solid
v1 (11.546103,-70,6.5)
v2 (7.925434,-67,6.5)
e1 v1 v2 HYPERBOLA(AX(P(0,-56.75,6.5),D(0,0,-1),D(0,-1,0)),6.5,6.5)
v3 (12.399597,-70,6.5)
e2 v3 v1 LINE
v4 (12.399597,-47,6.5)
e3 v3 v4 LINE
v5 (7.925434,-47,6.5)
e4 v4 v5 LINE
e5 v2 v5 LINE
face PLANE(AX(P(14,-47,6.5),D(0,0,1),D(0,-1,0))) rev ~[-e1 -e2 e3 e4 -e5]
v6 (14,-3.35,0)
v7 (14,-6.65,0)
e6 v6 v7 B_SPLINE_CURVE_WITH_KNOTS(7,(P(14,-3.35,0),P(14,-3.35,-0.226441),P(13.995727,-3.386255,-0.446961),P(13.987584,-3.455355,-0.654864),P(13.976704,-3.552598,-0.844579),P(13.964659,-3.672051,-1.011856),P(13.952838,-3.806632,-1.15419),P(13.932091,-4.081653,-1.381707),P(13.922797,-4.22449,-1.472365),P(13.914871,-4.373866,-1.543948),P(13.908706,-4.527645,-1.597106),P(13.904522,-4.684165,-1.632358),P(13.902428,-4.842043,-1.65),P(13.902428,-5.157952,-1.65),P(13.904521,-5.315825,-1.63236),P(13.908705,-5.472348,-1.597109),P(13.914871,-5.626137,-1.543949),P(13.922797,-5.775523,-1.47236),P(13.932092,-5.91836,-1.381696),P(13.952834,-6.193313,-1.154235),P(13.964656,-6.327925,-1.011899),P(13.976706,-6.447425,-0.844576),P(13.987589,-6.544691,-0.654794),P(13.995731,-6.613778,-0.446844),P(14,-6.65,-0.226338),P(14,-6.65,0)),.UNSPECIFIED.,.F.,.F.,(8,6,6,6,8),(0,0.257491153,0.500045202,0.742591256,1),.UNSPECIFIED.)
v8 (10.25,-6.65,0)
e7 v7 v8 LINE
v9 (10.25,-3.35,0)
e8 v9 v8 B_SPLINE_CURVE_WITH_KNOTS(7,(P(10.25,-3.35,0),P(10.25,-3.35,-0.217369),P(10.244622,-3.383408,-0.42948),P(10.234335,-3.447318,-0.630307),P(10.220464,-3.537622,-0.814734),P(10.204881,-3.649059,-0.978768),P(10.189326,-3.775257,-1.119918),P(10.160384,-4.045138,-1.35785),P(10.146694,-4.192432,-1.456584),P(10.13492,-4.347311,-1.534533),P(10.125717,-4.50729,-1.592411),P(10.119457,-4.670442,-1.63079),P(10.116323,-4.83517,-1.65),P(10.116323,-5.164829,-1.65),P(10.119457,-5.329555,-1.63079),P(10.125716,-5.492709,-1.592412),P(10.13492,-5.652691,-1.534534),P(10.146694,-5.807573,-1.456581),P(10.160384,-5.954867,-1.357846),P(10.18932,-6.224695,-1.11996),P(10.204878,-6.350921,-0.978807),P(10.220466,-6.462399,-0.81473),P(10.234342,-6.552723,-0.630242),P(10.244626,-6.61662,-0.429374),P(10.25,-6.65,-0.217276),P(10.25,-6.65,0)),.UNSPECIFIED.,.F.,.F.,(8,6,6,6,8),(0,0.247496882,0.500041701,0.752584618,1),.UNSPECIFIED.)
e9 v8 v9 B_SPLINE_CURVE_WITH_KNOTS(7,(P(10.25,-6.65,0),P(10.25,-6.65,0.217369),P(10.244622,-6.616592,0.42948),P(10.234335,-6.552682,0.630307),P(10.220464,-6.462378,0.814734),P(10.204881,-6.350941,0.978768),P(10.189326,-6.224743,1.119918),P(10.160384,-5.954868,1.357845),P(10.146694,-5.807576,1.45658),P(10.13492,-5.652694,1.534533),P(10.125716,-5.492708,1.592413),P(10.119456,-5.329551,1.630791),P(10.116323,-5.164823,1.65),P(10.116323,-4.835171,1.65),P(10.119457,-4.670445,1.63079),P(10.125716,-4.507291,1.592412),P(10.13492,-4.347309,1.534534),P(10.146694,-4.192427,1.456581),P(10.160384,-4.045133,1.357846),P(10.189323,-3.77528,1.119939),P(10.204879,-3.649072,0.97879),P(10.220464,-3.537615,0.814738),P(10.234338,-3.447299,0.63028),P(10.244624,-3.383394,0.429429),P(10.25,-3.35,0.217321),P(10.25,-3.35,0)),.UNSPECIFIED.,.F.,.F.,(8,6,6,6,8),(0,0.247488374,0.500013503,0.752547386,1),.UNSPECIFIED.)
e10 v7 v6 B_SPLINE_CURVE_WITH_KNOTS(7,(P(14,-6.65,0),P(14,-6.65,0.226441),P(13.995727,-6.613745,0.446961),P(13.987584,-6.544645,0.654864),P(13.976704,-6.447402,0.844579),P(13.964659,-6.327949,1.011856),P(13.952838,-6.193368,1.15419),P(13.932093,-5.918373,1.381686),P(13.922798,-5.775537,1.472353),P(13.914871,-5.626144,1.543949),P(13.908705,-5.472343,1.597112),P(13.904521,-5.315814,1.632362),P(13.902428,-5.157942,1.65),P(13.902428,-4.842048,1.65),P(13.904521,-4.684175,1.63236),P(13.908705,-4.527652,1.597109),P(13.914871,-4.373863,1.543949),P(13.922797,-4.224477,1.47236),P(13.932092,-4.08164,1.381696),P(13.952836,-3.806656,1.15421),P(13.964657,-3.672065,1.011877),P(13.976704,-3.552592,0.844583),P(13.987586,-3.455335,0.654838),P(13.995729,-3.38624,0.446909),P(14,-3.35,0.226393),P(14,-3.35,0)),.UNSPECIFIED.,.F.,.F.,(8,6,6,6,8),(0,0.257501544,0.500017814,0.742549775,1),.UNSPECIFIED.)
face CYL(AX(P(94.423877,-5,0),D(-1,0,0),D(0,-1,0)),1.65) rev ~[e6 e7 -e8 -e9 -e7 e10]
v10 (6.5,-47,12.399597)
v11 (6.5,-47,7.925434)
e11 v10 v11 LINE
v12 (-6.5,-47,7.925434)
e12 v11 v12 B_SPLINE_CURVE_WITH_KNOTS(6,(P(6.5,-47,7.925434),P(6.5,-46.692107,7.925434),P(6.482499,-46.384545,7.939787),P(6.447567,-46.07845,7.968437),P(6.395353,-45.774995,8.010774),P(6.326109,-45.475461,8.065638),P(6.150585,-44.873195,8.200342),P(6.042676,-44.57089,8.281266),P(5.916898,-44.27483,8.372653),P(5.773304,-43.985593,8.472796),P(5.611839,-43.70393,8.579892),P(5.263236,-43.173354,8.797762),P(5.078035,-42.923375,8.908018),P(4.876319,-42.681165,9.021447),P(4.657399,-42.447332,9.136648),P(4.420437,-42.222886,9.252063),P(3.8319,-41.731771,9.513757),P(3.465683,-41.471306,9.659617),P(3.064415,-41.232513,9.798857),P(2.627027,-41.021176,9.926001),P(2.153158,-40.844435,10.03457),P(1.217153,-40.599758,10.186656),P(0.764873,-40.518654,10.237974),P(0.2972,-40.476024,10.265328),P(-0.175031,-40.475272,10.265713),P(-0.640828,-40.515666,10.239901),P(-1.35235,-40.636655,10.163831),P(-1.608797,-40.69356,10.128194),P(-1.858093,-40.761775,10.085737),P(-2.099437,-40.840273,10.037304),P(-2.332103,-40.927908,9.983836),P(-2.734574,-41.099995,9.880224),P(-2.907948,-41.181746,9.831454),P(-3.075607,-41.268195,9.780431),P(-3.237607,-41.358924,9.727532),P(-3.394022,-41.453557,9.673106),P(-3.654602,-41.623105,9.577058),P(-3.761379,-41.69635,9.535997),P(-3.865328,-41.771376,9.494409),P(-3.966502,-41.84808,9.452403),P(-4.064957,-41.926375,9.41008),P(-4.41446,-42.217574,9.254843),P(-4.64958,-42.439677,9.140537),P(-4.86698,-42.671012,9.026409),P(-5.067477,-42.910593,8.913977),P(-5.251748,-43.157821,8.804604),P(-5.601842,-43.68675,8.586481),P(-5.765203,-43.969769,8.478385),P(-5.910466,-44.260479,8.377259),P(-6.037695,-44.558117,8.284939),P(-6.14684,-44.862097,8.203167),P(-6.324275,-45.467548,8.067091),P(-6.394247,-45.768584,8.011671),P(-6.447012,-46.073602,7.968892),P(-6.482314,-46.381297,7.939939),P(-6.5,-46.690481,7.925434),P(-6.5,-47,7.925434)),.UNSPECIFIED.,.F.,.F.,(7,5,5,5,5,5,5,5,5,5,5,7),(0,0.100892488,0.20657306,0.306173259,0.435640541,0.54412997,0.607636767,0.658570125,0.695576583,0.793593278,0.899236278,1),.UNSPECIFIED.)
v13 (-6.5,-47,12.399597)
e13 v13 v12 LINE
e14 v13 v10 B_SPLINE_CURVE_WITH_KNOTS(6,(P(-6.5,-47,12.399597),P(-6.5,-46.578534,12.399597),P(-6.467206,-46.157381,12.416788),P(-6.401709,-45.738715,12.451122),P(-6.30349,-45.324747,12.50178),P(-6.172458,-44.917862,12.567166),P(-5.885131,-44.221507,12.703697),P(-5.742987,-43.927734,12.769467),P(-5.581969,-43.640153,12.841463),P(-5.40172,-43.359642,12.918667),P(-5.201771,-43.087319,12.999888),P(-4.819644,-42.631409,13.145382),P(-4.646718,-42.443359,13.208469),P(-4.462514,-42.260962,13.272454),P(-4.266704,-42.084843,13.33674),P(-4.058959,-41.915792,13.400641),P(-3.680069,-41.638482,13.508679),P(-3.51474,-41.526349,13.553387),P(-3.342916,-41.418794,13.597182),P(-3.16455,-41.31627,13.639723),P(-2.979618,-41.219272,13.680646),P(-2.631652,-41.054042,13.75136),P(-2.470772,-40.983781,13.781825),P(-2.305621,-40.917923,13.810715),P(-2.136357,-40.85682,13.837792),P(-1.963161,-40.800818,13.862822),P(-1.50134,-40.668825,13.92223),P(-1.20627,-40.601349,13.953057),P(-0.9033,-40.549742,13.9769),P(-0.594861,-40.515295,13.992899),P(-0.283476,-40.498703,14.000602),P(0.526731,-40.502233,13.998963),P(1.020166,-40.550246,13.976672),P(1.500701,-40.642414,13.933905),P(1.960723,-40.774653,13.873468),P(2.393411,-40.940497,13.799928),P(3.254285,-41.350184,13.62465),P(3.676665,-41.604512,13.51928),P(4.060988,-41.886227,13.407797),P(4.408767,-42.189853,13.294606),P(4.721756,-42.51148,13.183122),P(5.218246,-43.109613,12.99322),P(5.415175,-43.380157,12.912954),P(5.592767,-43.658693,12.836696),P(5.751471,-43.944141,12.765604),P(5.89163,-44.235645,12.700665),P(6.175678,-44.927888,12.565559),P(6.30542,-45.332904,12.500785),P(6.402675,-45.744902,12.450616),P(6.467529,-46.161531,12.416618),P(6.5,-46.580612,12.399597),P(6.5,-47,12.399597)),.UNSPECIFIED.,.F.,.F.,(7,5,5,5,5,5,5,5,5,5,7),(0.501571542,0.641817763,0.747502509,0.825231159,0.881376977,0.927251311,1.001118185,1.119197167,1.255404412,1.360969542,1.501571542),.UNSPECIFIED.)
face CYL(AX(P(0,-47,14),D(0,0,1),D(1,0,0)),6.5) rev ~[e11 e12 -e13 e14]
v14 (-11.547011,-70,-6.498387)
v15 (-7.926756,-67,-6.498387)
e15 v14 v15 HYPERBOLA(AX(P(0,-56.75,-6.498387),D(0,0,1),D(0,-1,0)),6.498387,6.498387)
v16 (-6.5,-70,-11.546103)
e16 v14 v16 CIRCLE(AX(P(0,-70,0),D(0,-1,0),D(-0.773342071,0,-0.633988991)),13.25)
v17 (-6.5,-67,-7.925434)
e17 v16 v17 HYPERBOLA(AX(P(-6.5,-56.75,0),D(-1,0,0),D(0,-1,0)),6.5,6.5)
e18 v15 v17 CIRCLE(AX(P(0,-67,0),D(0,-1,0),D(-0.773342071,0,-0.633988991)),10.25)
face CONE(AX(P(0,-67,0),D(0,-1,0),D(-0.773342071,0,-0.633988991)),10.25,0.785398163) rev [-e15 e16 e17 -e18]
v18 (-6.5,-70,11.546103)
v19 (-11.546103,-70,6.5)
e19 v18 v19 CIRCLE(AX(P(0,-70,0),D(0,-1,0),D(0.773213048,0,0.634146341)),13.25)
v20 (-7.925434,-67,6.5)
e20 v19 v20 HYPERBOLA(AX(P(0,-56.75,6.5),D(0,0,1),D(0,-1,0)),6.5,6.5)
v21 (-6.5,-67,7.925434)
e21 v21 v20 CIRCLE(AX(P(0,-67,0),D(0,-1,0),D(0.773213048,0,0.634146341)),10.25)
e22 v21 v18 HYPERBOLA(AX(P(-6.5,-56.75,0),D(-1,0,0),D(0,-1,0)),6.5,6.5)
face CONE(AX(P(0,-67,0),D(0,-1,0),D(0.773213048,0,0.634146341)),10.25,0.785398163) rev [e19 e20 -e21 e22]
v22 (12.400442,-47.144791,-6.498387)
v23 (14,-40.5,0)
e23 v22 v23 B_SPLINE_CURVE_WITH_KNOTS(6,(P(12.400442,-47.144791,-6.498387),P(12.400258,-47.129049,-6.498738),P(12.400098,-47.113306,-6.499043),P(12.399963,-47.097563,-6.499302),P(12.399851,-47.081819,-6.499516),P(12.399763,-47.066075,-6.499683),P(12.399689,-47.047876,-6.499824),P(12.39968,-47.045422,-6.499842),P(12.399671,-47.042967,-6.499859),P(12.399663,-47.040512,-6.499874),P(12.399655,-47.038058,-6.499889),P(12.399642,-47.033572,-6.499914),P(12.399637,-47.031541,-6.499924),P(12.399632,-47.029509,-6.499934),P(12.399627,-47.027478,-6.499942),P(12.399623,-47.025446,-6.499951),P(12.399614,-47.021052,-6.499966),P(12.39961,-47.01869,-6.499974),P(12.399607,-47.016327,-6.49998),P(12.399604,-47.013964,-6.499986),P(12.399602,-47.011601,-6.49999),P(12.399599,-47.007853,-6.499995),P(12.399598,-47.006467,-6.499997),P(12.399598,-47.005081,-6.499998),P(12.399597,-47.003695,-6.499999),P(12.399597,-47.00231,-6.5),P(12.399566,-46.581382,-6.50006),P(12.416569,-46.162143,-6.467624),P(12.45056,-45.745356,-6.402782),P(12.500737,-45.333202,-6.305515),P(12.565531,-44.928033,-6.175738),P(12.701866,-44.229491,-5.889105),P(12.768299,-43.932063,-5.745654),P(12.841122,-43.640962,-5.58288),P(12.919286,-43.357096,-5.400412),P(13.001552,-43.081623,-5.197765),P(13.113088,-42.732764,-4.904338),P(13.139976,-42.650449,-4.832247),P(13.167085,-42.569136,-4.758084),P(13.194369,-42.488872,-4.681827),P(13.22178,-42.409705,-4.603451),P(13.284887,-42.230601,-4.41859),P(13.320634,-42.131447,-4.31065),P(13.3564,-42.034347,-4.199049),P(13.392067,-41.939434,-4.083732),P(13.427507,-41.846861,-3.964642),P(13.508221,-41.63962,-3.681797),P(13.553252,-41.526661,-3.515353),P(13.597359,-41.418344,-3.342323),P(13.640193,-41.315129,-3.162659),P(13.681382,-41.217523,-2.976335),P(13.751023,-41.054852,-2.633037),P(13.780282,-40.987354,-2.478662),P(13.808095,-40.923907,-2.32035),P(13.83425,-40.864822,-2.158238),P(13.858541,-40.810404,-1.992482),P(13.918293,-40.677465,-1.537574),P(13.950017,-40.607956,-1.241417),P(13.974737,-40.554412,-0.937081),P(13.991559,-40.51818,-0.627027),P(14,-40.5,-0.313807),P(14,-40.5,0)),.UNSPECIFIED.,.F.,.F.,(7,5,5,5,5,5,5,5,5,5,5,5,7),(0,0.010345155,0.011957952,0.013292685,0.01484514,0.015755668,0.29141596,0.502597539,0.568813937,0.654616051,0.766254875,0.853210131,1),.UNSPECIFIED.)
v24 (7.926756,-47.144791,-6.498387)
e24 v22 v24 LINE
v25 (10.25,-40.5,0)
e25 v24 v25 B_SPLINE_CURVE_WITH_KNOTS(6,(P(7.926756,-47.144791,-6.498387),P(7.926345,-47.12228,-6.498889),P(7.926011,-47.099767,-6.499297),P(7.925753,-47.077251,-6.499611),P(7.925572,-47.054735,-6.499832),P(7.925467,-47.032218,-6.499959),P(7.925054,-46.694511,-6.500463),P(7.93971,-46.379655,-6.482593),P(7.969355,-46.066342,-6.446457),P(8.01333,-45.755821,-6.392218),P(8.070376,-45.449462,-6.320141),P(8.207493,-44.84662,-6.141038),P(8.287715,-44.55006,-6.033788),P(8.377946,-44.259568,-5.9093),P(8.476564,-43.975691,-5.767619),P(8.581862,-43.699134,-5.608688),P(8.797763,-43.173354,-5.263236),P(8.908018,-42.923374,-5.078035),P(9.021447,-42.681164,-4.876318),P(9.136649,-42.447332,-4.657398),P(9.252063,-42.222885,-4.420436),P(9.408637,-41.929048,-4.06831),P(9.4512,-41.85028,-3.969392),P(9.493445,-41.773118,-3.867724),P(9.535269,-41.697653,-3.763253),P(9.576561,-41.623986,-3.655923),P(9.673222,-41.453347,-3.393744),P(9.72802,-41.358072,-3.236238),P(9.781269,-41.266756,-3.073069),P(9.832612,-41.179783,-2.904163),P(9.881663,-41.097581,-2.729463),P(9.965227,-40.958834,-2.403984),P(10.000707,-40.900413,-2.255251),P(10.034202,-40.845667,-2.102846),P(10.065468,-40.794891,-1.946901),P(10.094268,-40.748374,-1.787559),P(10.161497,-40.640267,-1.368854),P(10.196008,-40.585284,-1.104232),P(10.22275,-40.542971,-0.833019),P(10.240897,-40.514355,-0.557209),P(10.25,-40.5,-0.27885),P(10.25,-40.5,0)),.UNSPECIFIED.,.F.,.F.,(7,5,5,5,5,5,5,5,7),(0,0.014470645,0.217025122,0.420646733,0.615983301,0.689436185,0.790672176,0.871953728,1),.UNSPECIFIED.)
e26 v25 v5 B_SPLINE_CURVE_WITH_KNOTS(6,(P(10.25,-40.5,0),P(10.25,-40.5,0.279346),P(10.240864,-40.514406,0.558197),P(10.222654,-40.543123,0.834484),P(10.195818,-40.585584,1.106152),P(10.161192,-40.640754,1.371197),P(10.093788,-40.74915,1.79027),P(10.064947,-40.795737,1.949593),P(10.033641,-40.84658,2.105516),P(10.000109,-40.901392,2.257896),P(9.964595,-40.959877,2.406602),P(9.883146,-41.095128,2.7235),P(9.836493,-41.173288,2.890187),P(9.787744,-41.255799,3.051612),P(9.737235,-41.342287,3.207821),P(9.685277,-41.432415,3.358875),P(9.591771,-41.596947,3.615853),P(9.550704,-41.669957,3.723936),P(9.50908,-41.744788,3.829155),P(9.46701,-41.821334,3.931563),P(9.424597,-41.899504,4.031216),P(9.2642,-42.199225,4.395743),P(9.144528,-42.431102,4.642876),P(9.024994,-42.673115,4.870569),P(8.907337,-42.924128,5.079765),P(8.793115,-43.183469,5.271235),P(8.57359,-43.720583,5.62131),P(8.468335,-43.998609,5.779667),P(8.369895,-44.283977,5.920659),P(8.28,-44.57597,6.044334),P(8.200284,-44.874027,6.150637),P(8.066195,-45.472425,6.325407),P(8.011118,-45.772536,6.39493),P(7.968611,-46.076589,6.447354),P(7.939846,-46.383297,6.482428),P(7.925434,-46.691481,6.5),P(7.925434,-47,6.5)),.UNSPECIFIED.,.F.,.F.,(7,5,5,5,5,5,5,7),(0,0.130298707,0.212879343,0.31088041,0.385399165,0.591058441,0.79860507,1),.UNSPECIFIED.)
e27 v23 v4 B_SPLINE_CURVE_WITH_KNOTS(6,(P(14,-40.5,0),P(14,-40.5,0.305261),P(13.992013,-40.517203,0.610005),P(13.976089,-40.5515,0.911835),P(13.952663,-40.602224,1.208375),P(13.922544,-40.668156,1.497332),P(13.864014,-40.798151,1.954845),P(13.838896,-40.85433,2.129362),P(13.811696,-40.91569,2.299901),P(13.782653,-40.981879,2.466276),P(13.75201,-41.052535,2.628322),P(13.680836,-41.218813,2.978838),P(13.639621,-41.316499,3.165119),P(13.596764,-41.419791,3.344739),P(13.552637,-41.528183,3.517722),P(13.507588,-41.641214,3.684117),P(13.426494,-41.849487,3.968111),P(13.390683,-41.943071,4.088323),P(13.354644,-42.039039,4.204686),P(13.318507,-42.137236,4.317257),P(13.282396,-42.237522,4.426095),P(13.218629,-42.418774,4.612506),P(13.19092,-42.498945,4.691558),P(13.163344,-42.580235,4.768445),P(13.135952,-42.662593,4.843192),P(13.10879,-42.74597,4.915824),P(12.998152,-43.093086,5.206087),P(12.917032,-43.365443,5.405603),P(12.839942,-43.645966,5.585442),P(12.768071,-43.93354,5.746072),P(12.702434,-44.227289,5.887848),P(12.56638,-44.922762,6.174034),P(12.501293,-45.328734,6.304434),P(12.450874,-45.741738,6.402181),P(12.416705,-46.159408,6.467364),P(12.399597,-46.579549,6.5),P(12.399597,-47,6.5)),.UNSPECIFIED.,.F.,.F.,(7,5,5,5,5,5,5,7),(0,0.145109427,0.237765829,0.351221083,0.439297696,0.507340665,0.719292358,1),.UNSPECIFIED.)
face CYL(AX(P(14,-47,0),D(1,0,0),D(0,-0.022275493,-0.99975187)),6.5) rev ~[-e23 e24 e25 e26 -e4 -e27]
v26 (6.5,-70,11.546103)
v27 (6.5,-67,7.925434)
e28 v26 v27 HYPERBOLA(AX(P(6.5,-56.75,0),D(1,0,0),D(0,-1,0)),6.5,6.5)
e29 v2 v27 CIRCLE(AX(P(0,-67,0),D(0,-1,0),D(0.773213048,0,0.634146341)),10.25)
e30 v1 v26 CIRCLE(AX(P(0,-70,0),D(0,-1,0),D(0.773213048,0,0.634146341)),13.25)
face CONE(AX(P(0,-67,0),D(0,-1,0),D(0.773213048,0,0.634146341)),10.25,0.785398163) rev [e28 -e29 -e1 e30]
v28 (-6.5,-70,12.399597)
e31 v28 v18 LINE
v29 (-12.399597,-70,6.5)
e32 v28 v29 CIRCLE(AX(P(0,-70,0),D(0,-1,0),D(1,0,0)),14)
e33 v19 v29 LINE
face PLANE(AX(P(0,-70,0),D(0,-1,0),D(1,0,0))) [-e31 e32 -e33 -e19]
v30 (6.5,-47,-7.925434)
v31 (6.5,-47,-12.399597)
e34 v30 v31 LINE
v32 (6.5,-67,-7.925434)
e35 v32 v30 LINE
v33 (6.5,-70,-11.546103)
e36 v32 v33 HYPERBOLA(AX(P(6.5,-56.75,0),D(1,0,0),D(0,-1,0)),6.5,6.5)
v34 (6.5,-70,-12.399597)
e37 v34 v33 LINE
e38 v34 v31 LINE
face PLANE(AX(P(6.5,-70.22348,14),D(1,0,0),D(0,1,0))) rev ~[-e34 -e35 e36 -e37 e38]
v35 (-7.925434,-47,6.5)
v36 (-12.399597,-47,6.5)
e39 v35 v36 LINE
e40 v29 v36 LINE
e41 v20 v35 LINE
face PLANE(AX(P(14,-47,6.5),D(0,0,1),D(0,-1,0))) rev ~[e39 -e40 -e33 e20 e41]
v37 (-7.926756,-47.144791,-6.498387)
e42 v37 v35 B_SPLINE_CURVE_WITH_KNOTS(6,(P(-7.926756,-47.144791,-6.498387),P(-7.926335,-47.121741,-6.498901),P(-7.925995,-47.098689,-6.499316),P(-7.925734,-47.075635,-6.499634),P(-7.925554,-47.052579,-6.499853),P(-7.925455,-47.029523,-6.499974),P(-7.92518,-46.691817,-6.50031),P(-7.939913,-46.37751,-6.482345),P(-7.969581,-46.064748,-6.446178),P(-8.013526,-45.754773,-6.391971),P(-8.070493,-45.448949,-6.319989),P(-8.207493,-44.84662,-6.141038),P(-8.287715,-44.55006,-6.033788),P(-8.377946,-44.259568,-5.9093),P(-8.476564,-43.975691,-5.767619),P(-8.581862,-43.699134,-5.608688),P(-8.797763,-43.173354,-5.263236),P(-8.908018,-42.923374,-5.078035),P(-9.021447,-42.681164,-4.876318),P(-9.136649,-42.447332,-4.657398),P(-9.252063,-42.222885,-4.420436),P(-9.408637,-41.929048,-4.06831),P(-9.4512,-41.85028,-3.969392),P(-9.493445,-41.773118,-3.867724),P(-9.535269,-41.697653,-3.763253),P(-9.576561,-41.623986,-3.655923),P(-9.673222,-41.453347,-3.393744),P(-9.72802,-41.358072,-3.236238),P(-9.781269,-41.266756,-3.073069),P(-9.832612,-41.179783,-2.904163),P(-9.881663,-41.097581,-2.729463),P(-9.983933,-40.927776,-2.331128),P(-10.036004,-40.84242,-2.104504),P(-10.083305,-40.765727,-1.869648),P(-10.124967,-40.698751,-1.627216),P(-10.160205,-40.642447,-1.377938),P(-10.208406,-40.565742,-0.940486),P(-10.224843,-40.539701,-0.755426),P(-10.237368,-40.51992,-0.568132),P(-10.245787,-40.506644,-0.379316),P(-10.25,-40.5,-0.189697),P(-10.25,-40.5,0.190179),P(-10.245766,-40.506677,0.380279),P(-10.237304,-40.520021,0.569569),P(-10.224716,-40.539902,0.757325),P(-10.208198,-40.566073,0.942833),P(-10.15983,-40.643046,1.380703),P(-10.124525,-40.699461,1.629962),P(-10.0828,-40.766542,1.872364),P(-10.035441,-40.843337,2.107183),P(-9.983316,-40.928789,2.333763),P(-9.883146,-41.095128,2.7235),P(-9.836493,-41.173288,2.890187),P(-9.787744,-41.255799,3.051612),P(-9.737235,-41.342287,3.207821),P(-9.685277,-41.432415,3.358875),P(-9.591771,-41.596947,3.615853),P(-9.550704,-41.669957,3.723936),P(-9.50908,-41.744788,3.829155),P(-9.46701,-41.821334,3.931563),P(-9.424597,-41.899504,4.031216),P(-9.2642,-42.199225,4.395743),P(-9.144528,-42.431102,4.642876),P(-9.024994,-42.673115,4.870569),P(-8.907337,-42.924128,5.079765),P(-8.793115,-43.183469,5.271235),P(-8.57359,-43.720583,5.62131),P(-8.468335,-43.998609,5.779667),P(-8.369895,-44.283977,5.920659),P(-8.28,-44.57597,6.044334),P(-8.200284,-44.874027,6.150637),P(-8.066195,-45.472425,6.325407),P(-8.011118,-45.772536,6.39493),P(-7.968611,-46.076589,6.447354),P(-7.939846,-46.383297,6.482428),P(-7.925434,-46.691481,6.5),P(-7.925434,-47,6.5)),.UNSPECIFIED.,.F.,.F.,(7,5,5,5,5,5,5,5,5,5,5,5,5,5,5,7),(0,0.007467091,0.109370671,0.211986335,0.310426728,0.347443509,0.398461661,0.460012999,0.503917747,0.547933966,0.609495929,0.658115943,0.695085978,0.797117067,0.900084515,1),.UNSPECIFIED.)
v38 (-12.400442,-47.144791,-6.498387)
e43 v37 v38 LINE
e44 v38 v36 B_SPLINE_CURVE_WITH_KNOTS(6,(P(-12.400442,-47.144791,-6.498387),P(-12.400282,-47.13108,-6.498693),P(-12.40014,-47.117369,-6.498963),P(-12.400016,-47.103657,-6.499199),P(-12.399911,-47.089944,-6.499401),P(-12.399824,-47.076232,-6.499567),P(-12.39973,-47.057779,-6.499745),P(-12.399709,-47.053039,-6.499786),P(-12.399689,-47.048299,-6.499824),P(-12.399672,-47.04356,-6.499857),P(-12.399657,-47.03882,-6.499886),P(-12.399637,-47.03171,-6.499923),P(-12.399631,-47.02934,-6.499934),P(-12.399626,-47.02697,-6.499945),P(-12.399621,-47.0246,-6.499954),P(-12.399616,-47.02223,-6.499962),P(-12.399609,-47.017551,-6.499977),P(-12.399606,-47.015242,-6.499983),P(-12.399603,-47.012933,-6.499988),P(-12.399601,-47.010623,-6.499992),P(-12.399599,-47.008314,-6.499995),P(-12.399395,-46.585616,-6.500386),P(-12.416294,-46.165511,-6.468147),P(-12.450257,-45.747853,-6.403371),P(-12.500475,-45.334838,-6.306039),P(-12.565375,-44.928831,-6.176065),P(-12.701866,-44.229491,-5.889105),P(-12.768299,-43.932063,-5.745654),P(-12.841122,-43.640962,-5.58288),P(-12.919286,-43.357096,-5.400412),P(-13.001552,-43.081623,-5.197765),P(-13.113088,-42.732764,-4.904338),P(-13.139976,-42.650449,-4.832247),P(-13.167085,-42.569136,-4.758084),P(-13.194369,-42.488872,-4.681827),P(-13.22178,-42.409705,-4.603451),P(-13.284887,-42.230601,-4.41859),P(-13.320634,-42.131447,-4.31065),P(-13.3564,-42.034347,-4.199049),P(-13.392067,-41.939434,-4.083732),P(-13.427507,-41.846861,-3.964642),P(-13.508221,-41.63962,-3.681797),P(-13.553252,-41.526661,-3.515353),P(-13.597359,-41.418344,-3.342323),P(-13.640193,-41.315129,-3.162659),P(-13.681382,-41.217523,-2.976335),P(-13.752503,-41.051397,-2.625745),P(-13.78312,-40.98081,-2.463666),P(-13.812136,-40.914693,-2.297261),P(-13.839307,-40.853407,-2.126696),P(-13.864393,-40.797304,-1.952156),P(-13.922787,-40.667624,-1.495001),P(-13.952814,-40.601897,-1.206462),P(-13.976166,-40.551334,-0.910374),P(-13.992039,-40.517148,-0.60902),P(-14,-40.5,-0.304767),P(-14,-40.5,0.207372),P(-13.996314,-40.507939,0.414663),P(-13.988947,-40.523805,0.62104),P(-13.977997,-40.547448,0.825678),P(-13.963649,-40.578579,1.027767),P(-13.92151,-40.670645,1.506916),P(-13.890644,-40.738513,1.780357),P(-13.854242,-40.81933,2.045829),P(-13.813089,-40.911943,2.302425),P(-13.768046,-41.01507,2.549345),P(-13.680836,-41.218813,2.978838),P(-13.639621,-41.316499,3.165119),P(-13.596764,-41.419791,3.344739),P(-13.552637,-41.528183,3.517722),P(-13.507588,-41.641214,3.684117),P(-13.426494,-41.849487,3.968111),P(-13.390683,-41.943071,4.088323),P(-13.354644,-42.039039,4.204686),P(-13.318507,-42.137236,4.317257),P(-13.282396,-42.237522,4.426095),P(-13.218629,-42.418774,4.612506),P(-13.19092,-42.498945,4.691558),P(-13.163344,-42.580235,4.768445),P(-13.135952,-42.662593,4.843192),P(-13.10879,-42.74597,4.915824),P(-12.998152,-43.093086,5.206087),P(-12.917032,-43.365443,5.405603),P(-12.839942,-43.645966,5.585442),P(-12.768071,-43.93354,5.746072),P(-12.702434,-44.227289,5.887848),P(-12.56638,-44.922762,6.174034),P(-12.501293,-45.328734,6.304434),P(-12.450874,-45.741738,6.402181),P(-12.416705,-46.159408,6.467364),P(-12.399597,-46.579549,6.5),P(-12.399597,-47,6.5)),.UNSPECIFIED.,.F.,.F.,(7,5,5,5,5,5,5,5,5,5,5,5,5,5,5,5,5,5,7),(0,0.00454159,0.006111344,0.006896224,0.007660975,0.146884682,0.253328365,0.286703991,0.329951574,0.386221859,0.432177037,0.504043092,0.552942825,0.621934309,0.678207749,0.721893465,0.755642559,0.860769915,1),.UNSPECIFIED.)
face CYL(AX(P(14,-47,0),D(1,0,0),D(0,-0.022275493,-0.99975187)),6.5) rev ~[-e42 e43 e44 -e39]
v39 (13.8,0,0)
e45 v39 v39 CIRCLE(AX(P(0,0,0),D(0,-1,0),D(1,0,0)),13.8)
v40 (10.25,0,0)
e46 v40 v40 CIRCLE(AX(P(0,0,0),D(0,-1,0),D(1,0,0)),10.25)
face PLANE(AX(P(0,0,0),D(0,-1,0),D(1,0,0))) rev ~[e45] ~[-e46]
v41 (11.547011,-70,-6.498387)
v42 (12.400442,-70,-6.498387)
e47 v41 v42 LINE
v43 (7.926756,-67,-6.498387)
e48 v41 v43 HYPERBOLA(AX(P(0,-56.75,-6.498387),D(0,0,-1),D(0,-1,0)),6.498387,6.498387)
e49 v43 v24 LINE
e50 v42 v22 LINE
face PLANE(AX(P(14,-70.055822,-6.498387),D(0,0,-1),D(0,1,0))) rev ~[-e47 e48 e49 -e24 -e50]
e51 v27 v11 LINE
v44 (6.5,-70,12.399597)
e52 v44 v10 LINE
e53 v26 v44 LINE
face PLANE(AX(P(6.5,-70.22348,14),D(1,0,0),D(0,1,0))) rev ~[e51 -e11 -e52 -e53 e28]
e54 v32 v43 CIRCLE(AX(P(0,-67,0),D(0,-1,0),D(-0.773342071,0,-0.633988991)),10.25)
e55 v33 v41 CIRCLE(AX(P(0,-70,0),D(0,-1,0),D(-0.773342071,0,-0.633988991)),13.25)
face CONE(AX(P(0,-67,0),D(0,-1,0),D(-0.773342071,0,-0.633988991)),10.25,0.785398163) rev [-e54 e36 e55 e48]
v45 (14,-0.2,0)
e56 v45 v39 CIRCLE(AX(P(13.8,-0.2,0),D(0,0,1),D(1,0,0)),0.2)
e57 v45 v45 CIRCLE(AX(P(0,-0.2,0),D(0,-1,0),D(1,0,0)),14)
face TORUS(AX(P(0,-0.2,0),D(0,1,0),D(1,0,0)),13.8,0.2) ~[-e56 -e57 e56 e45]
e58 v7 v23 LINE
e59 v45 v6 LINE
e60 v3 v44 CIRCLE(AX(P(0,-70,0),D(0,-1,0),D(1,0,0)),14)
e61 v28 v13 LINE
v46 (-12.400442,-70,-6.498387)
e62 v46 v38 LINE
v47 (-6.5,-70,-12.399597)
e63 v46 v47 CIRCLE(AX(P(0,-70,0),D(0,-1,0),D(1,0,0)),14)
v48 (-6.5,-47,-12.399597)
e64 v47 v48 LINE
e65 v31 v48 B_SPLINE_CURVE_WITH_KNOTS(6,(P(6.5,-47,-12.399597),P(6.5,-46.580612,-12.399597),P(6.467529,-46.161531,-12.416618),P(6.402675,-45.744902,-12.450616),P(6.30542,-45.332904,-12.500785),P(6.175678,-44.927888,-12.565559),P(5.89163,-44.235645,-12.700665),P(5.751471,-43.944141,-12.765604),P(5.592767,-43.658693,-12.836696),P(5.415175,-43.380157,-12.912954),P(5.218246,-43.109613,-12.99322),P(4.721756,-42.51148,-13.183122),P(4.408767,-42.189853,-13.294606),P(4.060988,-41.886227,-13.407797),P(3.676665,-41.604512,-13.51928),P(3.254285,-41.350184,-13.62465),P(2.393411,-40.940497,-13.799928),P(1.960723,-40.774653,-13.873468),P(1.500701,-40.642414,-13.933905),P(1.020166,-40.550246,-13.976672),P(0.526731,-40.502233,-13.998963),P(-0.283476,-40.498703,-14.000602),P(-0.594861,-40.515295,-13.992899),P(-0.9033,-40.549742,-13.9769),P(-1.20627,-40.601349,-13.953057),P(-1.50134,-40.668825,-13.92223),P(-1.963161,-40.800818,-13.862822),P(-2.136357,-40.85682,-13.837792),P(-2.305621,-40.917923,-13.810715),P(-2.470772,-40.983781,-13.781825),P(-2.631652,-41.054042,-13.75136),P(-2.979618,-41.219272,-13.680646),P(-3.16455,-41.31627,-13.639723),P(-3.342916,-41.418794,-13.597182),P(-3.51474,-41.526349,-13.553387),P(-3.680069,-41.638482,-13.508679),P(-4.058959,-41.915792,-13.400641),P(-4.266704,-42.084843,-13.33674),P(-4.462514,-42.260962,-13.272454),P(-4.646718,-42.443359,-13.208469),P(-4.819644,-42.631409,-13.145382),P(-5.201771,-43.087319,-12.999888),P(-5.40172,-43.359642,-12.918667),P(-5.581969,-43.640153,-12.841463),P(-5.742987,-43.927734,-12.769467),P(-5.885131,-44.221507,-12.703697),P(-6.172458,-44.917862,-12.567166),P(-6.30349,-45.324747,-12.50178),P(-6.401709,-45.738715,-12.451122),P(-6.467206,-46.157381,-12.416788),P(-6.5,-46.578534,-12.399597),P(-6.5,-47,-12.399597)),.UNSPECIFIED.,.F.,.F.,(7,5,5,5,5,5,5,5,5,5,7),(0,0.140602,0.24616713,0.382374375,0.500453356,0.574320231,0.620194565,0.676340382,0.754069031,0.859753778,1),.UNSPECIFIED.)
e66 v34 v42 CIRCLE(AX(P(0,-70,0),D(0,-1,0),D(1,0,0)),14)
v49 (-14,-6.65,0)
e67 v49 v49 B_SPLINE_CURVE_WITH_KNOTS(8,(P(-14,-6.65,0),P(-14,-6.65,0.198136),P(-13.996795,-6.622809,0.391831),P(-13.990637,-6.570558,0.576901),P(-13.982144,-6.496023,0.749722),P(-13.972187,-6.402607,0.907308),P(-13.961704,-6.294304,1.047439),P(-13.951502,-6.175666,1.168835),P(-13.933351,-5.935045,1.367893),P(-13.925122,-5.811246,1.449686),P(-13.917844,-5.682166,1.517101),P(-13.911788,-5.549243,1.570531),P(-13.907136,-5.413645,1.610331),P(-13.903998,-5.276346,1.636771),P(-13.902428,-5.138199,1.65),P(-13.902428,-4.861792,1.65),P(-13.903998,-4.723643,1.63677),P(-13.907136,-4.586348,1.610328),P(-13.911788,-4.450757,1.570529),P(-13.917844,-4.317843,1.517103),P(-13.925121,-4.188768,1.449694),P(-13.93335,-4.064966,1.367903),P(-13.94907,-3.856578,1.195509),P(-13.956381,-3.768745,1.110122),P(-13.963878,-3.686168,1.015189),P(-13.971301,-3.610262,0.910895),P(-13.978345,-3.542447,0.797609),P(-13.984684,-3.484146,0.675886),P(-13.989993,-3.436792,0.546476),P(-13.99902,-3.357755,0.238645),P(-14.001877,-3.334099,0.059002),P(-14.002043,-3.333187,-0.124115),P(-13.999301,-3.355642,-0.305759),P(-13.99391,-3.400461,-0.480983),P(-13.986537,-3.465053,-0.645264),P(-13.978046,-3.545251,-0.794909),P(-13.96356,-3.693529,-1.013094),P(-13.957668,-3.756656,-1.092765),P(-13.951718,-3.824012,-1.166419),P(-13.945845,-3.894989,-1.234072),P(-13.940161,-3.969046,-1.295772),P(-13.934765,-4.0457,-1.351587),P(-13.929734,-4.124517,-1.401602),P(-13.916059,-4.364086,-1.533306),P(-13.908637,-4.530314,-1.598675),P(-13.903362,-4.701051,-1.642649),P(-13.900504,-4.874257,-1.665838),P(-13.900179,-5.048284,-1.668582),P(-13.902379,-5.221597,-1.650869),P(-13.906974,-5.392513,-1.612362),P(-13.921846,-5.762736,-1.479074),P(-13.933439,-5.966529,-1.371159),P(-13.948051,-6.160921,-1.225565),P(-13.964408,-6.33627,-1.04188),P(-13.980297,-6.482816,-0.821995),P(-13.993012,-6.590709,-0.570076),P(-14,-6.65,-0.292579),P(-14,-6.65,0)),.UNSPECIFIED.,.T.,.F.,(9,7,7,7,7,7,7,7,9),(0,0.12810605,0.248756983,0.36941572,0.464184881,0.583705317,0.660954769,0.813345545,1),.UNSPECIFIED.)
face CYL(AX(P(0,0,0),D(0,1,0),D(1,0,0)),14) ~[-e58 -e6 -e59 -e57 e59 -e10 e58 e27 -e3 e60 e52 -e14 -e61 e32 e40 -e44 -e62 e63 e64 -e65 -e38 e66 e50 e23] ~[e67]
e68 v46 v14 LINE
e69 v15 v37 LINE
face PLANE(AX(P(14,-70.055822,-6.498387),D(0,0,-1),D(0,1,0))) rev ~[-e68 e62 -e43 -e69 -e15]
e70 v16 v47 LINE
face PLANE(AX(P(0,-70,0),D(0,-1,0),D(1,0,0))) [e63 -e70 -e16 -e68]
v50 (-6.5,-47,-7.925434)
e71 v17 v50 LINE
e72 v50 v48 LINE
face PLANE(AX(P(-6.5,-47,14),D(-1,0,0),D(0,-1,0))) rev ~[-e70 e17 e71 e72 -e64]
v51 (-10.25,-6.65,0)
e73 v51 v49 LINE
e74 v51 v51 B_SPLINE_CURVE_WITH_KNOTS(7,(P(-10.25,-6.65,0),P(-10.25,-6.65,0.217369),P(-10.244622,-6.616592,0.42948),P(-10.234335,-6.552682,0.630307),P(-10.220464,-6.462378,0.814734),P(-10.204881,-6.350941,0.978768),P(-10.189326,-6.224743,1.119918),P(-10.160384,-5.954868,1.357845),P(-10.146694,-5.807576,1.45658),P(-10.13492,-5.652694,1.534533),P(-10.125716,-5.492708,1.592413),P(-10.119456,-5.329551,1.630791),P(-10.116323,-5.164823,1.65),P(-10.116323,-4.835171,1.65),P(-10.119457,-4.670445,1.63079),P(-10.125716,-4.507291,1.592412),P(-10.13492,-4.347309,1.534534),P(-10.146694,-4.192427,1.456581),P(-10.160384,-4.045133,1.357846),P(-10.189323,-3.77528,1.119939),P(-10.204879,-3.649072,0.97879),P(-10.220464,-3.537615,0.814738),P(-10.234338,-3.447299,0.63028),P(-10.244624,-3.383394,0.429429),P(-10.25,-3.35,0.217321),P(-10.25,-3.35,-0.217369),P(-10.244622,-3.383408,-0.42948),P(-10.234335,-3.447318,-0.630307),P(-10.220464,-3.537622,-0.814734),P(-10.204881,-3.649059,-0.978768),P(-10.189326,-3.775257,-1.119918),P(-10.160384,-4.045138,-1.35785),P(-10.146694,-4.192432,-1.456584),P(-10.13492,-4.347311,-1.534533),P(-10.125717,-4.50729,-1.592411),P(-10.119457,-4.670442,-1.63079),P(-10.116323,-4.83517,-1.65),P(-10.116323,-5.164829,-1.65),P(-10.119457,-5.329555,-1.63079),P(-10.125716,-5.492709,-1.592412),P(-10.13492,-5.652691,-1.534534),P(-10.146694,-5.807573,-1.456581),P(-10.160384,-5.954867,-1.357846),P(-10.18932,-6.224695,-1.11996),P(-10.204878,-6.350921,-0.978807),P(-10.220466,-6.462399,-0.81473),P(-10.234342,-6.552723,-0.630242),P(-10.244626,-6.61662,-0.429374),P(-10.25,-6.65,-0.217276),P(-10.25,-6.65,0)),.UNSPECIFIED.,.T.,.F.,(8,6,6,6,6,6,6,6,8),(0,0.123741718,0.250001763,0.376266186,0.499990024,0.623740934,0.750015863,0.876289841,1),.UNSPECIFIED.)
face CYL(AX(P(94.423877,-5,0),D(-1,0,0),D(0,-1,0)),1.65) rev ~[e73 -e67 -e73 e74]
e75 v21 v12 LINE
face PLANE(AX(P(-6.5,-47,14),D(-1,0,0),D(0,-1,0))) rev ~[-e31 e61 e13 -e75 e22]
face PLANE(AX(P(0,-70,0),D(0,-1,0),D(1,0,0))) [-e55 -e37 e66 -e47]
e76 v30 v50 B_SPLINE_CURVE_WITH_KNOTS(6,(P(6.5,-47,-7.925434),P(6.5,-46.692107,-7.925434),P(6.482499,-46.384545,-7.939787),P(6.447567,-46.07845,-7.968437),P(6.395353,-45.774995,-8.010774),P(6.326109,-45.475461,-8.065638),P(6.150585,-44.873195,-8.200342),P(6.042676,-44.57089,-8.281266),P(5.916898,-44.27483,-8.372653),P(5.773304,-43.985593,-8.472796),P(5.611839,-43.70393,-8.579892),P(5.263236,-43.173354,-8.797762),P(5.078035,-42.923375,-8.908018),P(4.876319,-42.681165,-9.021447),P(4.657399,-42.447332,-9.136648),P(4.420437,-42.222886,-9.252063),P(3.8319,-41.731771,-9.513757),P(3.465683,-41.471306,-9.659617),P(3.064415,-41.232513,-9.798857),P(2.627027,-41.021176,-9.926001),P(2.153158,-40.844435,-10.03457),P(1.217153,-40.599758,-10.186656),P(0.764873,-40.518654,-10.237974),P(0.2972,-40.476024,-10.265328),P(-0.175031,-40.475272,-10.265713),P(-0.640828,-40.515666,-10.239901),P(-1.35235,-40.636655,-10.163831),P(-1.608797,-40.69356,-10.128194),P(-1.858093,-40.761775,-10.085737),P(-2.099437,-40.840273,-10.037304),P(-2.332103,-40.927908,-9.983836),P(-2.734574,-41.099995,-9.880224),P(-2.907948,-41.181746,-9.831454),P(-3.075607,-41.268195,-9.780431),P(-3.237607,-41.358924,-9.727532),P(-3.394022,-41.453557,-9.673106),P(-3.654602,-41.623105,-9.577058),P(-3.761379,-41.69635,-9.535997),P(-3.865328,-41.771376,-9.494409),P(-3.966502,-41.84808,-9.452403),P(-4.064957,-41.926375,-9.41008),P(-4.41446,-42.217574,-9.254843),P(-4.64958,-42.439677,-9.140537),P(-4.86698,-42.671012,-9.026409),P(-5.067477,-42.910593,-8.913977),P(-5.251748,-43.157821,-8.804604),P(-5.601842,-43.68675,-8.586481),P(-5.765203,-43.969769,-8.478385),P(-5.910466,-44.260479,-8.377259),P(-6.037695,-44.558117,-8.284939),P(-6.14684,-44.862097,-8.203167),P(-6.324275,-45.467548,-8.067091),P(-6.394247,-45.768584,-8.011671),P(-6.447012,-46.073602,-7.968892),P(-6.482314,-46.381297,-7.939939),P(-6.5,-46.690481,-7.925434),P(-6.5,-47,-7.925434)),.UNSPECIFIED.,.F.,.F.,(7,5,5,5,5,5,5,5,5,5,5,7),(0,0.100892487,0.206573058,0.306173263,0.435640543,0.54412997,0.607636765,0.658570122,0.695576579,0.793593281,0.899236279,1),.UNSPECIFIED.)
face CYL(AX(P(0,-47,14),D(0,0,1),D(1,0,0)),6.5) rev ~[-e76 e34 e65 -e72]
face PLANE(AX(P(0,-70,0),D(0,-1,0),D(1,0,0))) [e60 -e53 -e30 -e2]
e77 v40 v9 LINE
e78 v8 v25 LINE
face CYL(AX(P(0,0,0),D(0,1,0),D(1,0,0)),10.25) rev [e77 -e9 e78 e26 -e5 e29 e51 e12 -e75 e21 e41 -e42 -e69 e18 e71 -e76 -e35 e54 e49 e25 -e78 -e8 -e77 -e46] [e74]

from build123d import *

# Parameters (mm, degrees)
F0_R      = 14
F0_R_2    = 10.25
F1_DEPTH  = 70
F4_DEPTH  = 40
F5_SIZE   = 3
F6_D      = 3.3
F7_R      = 0.2
F10_DEPTH = 40


with BuildPart() as f1:
    # F0 (on Front) → F1 (new body)
    with BuildSketch(Plane.XZ):
        Circle(F0_R)
        Circle(F0_R_2, mode=Mode.SUBTRACT)
    extrude(amount=F1_DEPTH)

    # F3 (on offset) → F4 (cut)
    with BuildSketch(Plane.YZ.offset(14)):
        with BuildLine():
            Line((-70.0558224349, -6.4983871577), (-47.1447907046, -6.4983871577))
            ThreePointArc((-47.1447907046, -6.4983871577), (-40.5004032231, -0.0723998436), (-47, 6.5))
            Line((-47, 6.5), (-70.0558218767, 6.5))
            Line((-70.0558218767, 6.5), (-70.0558224349, -6.4983871577))
        make_face()
    extrude(amount=-F4_DEPTH, mode=Mode.SUBTRACT)

    # F5
    f5_edges = [f1.edges().sort_by_distance(p)[0] for p in [
        (0, -70, 10.25),
        (0, -70, -10.25),
    ]]
    chamfer(f5_edges, length=F5_SIZE)

    # F6 (through all)
    with Locations(Plane.YZ.offset(14)):
        with Locations((-5, 0)):
            Hole(F6_D / 2)

    # F7
    f7_edges = [f1.edges().sort_by_distance(p)[0] for p in [
        (-14, 0, 0),
    ]]
    fillet(f7_edges, radius=F7_R)

    # F9 (on offset) → F10 (cut)
    with BuildSketch(Plane.XY.offset(14)):
        with BuildLine():
            Line((6.5, -70.223480463), (6.5, -47))
            ThreePointArc((6.5, -47), (0, -40.5), (-6.5, -47))
            Line((-6.5, -47), (-6.5, -70.1674371958))
            Line((-6.5, -70.1674371958), (6.5, -70.223480463))
        make_face()
    extrude(amount=-F10_DEPTH, mode=Mode.SUBTRACT)


solid = f1.part
